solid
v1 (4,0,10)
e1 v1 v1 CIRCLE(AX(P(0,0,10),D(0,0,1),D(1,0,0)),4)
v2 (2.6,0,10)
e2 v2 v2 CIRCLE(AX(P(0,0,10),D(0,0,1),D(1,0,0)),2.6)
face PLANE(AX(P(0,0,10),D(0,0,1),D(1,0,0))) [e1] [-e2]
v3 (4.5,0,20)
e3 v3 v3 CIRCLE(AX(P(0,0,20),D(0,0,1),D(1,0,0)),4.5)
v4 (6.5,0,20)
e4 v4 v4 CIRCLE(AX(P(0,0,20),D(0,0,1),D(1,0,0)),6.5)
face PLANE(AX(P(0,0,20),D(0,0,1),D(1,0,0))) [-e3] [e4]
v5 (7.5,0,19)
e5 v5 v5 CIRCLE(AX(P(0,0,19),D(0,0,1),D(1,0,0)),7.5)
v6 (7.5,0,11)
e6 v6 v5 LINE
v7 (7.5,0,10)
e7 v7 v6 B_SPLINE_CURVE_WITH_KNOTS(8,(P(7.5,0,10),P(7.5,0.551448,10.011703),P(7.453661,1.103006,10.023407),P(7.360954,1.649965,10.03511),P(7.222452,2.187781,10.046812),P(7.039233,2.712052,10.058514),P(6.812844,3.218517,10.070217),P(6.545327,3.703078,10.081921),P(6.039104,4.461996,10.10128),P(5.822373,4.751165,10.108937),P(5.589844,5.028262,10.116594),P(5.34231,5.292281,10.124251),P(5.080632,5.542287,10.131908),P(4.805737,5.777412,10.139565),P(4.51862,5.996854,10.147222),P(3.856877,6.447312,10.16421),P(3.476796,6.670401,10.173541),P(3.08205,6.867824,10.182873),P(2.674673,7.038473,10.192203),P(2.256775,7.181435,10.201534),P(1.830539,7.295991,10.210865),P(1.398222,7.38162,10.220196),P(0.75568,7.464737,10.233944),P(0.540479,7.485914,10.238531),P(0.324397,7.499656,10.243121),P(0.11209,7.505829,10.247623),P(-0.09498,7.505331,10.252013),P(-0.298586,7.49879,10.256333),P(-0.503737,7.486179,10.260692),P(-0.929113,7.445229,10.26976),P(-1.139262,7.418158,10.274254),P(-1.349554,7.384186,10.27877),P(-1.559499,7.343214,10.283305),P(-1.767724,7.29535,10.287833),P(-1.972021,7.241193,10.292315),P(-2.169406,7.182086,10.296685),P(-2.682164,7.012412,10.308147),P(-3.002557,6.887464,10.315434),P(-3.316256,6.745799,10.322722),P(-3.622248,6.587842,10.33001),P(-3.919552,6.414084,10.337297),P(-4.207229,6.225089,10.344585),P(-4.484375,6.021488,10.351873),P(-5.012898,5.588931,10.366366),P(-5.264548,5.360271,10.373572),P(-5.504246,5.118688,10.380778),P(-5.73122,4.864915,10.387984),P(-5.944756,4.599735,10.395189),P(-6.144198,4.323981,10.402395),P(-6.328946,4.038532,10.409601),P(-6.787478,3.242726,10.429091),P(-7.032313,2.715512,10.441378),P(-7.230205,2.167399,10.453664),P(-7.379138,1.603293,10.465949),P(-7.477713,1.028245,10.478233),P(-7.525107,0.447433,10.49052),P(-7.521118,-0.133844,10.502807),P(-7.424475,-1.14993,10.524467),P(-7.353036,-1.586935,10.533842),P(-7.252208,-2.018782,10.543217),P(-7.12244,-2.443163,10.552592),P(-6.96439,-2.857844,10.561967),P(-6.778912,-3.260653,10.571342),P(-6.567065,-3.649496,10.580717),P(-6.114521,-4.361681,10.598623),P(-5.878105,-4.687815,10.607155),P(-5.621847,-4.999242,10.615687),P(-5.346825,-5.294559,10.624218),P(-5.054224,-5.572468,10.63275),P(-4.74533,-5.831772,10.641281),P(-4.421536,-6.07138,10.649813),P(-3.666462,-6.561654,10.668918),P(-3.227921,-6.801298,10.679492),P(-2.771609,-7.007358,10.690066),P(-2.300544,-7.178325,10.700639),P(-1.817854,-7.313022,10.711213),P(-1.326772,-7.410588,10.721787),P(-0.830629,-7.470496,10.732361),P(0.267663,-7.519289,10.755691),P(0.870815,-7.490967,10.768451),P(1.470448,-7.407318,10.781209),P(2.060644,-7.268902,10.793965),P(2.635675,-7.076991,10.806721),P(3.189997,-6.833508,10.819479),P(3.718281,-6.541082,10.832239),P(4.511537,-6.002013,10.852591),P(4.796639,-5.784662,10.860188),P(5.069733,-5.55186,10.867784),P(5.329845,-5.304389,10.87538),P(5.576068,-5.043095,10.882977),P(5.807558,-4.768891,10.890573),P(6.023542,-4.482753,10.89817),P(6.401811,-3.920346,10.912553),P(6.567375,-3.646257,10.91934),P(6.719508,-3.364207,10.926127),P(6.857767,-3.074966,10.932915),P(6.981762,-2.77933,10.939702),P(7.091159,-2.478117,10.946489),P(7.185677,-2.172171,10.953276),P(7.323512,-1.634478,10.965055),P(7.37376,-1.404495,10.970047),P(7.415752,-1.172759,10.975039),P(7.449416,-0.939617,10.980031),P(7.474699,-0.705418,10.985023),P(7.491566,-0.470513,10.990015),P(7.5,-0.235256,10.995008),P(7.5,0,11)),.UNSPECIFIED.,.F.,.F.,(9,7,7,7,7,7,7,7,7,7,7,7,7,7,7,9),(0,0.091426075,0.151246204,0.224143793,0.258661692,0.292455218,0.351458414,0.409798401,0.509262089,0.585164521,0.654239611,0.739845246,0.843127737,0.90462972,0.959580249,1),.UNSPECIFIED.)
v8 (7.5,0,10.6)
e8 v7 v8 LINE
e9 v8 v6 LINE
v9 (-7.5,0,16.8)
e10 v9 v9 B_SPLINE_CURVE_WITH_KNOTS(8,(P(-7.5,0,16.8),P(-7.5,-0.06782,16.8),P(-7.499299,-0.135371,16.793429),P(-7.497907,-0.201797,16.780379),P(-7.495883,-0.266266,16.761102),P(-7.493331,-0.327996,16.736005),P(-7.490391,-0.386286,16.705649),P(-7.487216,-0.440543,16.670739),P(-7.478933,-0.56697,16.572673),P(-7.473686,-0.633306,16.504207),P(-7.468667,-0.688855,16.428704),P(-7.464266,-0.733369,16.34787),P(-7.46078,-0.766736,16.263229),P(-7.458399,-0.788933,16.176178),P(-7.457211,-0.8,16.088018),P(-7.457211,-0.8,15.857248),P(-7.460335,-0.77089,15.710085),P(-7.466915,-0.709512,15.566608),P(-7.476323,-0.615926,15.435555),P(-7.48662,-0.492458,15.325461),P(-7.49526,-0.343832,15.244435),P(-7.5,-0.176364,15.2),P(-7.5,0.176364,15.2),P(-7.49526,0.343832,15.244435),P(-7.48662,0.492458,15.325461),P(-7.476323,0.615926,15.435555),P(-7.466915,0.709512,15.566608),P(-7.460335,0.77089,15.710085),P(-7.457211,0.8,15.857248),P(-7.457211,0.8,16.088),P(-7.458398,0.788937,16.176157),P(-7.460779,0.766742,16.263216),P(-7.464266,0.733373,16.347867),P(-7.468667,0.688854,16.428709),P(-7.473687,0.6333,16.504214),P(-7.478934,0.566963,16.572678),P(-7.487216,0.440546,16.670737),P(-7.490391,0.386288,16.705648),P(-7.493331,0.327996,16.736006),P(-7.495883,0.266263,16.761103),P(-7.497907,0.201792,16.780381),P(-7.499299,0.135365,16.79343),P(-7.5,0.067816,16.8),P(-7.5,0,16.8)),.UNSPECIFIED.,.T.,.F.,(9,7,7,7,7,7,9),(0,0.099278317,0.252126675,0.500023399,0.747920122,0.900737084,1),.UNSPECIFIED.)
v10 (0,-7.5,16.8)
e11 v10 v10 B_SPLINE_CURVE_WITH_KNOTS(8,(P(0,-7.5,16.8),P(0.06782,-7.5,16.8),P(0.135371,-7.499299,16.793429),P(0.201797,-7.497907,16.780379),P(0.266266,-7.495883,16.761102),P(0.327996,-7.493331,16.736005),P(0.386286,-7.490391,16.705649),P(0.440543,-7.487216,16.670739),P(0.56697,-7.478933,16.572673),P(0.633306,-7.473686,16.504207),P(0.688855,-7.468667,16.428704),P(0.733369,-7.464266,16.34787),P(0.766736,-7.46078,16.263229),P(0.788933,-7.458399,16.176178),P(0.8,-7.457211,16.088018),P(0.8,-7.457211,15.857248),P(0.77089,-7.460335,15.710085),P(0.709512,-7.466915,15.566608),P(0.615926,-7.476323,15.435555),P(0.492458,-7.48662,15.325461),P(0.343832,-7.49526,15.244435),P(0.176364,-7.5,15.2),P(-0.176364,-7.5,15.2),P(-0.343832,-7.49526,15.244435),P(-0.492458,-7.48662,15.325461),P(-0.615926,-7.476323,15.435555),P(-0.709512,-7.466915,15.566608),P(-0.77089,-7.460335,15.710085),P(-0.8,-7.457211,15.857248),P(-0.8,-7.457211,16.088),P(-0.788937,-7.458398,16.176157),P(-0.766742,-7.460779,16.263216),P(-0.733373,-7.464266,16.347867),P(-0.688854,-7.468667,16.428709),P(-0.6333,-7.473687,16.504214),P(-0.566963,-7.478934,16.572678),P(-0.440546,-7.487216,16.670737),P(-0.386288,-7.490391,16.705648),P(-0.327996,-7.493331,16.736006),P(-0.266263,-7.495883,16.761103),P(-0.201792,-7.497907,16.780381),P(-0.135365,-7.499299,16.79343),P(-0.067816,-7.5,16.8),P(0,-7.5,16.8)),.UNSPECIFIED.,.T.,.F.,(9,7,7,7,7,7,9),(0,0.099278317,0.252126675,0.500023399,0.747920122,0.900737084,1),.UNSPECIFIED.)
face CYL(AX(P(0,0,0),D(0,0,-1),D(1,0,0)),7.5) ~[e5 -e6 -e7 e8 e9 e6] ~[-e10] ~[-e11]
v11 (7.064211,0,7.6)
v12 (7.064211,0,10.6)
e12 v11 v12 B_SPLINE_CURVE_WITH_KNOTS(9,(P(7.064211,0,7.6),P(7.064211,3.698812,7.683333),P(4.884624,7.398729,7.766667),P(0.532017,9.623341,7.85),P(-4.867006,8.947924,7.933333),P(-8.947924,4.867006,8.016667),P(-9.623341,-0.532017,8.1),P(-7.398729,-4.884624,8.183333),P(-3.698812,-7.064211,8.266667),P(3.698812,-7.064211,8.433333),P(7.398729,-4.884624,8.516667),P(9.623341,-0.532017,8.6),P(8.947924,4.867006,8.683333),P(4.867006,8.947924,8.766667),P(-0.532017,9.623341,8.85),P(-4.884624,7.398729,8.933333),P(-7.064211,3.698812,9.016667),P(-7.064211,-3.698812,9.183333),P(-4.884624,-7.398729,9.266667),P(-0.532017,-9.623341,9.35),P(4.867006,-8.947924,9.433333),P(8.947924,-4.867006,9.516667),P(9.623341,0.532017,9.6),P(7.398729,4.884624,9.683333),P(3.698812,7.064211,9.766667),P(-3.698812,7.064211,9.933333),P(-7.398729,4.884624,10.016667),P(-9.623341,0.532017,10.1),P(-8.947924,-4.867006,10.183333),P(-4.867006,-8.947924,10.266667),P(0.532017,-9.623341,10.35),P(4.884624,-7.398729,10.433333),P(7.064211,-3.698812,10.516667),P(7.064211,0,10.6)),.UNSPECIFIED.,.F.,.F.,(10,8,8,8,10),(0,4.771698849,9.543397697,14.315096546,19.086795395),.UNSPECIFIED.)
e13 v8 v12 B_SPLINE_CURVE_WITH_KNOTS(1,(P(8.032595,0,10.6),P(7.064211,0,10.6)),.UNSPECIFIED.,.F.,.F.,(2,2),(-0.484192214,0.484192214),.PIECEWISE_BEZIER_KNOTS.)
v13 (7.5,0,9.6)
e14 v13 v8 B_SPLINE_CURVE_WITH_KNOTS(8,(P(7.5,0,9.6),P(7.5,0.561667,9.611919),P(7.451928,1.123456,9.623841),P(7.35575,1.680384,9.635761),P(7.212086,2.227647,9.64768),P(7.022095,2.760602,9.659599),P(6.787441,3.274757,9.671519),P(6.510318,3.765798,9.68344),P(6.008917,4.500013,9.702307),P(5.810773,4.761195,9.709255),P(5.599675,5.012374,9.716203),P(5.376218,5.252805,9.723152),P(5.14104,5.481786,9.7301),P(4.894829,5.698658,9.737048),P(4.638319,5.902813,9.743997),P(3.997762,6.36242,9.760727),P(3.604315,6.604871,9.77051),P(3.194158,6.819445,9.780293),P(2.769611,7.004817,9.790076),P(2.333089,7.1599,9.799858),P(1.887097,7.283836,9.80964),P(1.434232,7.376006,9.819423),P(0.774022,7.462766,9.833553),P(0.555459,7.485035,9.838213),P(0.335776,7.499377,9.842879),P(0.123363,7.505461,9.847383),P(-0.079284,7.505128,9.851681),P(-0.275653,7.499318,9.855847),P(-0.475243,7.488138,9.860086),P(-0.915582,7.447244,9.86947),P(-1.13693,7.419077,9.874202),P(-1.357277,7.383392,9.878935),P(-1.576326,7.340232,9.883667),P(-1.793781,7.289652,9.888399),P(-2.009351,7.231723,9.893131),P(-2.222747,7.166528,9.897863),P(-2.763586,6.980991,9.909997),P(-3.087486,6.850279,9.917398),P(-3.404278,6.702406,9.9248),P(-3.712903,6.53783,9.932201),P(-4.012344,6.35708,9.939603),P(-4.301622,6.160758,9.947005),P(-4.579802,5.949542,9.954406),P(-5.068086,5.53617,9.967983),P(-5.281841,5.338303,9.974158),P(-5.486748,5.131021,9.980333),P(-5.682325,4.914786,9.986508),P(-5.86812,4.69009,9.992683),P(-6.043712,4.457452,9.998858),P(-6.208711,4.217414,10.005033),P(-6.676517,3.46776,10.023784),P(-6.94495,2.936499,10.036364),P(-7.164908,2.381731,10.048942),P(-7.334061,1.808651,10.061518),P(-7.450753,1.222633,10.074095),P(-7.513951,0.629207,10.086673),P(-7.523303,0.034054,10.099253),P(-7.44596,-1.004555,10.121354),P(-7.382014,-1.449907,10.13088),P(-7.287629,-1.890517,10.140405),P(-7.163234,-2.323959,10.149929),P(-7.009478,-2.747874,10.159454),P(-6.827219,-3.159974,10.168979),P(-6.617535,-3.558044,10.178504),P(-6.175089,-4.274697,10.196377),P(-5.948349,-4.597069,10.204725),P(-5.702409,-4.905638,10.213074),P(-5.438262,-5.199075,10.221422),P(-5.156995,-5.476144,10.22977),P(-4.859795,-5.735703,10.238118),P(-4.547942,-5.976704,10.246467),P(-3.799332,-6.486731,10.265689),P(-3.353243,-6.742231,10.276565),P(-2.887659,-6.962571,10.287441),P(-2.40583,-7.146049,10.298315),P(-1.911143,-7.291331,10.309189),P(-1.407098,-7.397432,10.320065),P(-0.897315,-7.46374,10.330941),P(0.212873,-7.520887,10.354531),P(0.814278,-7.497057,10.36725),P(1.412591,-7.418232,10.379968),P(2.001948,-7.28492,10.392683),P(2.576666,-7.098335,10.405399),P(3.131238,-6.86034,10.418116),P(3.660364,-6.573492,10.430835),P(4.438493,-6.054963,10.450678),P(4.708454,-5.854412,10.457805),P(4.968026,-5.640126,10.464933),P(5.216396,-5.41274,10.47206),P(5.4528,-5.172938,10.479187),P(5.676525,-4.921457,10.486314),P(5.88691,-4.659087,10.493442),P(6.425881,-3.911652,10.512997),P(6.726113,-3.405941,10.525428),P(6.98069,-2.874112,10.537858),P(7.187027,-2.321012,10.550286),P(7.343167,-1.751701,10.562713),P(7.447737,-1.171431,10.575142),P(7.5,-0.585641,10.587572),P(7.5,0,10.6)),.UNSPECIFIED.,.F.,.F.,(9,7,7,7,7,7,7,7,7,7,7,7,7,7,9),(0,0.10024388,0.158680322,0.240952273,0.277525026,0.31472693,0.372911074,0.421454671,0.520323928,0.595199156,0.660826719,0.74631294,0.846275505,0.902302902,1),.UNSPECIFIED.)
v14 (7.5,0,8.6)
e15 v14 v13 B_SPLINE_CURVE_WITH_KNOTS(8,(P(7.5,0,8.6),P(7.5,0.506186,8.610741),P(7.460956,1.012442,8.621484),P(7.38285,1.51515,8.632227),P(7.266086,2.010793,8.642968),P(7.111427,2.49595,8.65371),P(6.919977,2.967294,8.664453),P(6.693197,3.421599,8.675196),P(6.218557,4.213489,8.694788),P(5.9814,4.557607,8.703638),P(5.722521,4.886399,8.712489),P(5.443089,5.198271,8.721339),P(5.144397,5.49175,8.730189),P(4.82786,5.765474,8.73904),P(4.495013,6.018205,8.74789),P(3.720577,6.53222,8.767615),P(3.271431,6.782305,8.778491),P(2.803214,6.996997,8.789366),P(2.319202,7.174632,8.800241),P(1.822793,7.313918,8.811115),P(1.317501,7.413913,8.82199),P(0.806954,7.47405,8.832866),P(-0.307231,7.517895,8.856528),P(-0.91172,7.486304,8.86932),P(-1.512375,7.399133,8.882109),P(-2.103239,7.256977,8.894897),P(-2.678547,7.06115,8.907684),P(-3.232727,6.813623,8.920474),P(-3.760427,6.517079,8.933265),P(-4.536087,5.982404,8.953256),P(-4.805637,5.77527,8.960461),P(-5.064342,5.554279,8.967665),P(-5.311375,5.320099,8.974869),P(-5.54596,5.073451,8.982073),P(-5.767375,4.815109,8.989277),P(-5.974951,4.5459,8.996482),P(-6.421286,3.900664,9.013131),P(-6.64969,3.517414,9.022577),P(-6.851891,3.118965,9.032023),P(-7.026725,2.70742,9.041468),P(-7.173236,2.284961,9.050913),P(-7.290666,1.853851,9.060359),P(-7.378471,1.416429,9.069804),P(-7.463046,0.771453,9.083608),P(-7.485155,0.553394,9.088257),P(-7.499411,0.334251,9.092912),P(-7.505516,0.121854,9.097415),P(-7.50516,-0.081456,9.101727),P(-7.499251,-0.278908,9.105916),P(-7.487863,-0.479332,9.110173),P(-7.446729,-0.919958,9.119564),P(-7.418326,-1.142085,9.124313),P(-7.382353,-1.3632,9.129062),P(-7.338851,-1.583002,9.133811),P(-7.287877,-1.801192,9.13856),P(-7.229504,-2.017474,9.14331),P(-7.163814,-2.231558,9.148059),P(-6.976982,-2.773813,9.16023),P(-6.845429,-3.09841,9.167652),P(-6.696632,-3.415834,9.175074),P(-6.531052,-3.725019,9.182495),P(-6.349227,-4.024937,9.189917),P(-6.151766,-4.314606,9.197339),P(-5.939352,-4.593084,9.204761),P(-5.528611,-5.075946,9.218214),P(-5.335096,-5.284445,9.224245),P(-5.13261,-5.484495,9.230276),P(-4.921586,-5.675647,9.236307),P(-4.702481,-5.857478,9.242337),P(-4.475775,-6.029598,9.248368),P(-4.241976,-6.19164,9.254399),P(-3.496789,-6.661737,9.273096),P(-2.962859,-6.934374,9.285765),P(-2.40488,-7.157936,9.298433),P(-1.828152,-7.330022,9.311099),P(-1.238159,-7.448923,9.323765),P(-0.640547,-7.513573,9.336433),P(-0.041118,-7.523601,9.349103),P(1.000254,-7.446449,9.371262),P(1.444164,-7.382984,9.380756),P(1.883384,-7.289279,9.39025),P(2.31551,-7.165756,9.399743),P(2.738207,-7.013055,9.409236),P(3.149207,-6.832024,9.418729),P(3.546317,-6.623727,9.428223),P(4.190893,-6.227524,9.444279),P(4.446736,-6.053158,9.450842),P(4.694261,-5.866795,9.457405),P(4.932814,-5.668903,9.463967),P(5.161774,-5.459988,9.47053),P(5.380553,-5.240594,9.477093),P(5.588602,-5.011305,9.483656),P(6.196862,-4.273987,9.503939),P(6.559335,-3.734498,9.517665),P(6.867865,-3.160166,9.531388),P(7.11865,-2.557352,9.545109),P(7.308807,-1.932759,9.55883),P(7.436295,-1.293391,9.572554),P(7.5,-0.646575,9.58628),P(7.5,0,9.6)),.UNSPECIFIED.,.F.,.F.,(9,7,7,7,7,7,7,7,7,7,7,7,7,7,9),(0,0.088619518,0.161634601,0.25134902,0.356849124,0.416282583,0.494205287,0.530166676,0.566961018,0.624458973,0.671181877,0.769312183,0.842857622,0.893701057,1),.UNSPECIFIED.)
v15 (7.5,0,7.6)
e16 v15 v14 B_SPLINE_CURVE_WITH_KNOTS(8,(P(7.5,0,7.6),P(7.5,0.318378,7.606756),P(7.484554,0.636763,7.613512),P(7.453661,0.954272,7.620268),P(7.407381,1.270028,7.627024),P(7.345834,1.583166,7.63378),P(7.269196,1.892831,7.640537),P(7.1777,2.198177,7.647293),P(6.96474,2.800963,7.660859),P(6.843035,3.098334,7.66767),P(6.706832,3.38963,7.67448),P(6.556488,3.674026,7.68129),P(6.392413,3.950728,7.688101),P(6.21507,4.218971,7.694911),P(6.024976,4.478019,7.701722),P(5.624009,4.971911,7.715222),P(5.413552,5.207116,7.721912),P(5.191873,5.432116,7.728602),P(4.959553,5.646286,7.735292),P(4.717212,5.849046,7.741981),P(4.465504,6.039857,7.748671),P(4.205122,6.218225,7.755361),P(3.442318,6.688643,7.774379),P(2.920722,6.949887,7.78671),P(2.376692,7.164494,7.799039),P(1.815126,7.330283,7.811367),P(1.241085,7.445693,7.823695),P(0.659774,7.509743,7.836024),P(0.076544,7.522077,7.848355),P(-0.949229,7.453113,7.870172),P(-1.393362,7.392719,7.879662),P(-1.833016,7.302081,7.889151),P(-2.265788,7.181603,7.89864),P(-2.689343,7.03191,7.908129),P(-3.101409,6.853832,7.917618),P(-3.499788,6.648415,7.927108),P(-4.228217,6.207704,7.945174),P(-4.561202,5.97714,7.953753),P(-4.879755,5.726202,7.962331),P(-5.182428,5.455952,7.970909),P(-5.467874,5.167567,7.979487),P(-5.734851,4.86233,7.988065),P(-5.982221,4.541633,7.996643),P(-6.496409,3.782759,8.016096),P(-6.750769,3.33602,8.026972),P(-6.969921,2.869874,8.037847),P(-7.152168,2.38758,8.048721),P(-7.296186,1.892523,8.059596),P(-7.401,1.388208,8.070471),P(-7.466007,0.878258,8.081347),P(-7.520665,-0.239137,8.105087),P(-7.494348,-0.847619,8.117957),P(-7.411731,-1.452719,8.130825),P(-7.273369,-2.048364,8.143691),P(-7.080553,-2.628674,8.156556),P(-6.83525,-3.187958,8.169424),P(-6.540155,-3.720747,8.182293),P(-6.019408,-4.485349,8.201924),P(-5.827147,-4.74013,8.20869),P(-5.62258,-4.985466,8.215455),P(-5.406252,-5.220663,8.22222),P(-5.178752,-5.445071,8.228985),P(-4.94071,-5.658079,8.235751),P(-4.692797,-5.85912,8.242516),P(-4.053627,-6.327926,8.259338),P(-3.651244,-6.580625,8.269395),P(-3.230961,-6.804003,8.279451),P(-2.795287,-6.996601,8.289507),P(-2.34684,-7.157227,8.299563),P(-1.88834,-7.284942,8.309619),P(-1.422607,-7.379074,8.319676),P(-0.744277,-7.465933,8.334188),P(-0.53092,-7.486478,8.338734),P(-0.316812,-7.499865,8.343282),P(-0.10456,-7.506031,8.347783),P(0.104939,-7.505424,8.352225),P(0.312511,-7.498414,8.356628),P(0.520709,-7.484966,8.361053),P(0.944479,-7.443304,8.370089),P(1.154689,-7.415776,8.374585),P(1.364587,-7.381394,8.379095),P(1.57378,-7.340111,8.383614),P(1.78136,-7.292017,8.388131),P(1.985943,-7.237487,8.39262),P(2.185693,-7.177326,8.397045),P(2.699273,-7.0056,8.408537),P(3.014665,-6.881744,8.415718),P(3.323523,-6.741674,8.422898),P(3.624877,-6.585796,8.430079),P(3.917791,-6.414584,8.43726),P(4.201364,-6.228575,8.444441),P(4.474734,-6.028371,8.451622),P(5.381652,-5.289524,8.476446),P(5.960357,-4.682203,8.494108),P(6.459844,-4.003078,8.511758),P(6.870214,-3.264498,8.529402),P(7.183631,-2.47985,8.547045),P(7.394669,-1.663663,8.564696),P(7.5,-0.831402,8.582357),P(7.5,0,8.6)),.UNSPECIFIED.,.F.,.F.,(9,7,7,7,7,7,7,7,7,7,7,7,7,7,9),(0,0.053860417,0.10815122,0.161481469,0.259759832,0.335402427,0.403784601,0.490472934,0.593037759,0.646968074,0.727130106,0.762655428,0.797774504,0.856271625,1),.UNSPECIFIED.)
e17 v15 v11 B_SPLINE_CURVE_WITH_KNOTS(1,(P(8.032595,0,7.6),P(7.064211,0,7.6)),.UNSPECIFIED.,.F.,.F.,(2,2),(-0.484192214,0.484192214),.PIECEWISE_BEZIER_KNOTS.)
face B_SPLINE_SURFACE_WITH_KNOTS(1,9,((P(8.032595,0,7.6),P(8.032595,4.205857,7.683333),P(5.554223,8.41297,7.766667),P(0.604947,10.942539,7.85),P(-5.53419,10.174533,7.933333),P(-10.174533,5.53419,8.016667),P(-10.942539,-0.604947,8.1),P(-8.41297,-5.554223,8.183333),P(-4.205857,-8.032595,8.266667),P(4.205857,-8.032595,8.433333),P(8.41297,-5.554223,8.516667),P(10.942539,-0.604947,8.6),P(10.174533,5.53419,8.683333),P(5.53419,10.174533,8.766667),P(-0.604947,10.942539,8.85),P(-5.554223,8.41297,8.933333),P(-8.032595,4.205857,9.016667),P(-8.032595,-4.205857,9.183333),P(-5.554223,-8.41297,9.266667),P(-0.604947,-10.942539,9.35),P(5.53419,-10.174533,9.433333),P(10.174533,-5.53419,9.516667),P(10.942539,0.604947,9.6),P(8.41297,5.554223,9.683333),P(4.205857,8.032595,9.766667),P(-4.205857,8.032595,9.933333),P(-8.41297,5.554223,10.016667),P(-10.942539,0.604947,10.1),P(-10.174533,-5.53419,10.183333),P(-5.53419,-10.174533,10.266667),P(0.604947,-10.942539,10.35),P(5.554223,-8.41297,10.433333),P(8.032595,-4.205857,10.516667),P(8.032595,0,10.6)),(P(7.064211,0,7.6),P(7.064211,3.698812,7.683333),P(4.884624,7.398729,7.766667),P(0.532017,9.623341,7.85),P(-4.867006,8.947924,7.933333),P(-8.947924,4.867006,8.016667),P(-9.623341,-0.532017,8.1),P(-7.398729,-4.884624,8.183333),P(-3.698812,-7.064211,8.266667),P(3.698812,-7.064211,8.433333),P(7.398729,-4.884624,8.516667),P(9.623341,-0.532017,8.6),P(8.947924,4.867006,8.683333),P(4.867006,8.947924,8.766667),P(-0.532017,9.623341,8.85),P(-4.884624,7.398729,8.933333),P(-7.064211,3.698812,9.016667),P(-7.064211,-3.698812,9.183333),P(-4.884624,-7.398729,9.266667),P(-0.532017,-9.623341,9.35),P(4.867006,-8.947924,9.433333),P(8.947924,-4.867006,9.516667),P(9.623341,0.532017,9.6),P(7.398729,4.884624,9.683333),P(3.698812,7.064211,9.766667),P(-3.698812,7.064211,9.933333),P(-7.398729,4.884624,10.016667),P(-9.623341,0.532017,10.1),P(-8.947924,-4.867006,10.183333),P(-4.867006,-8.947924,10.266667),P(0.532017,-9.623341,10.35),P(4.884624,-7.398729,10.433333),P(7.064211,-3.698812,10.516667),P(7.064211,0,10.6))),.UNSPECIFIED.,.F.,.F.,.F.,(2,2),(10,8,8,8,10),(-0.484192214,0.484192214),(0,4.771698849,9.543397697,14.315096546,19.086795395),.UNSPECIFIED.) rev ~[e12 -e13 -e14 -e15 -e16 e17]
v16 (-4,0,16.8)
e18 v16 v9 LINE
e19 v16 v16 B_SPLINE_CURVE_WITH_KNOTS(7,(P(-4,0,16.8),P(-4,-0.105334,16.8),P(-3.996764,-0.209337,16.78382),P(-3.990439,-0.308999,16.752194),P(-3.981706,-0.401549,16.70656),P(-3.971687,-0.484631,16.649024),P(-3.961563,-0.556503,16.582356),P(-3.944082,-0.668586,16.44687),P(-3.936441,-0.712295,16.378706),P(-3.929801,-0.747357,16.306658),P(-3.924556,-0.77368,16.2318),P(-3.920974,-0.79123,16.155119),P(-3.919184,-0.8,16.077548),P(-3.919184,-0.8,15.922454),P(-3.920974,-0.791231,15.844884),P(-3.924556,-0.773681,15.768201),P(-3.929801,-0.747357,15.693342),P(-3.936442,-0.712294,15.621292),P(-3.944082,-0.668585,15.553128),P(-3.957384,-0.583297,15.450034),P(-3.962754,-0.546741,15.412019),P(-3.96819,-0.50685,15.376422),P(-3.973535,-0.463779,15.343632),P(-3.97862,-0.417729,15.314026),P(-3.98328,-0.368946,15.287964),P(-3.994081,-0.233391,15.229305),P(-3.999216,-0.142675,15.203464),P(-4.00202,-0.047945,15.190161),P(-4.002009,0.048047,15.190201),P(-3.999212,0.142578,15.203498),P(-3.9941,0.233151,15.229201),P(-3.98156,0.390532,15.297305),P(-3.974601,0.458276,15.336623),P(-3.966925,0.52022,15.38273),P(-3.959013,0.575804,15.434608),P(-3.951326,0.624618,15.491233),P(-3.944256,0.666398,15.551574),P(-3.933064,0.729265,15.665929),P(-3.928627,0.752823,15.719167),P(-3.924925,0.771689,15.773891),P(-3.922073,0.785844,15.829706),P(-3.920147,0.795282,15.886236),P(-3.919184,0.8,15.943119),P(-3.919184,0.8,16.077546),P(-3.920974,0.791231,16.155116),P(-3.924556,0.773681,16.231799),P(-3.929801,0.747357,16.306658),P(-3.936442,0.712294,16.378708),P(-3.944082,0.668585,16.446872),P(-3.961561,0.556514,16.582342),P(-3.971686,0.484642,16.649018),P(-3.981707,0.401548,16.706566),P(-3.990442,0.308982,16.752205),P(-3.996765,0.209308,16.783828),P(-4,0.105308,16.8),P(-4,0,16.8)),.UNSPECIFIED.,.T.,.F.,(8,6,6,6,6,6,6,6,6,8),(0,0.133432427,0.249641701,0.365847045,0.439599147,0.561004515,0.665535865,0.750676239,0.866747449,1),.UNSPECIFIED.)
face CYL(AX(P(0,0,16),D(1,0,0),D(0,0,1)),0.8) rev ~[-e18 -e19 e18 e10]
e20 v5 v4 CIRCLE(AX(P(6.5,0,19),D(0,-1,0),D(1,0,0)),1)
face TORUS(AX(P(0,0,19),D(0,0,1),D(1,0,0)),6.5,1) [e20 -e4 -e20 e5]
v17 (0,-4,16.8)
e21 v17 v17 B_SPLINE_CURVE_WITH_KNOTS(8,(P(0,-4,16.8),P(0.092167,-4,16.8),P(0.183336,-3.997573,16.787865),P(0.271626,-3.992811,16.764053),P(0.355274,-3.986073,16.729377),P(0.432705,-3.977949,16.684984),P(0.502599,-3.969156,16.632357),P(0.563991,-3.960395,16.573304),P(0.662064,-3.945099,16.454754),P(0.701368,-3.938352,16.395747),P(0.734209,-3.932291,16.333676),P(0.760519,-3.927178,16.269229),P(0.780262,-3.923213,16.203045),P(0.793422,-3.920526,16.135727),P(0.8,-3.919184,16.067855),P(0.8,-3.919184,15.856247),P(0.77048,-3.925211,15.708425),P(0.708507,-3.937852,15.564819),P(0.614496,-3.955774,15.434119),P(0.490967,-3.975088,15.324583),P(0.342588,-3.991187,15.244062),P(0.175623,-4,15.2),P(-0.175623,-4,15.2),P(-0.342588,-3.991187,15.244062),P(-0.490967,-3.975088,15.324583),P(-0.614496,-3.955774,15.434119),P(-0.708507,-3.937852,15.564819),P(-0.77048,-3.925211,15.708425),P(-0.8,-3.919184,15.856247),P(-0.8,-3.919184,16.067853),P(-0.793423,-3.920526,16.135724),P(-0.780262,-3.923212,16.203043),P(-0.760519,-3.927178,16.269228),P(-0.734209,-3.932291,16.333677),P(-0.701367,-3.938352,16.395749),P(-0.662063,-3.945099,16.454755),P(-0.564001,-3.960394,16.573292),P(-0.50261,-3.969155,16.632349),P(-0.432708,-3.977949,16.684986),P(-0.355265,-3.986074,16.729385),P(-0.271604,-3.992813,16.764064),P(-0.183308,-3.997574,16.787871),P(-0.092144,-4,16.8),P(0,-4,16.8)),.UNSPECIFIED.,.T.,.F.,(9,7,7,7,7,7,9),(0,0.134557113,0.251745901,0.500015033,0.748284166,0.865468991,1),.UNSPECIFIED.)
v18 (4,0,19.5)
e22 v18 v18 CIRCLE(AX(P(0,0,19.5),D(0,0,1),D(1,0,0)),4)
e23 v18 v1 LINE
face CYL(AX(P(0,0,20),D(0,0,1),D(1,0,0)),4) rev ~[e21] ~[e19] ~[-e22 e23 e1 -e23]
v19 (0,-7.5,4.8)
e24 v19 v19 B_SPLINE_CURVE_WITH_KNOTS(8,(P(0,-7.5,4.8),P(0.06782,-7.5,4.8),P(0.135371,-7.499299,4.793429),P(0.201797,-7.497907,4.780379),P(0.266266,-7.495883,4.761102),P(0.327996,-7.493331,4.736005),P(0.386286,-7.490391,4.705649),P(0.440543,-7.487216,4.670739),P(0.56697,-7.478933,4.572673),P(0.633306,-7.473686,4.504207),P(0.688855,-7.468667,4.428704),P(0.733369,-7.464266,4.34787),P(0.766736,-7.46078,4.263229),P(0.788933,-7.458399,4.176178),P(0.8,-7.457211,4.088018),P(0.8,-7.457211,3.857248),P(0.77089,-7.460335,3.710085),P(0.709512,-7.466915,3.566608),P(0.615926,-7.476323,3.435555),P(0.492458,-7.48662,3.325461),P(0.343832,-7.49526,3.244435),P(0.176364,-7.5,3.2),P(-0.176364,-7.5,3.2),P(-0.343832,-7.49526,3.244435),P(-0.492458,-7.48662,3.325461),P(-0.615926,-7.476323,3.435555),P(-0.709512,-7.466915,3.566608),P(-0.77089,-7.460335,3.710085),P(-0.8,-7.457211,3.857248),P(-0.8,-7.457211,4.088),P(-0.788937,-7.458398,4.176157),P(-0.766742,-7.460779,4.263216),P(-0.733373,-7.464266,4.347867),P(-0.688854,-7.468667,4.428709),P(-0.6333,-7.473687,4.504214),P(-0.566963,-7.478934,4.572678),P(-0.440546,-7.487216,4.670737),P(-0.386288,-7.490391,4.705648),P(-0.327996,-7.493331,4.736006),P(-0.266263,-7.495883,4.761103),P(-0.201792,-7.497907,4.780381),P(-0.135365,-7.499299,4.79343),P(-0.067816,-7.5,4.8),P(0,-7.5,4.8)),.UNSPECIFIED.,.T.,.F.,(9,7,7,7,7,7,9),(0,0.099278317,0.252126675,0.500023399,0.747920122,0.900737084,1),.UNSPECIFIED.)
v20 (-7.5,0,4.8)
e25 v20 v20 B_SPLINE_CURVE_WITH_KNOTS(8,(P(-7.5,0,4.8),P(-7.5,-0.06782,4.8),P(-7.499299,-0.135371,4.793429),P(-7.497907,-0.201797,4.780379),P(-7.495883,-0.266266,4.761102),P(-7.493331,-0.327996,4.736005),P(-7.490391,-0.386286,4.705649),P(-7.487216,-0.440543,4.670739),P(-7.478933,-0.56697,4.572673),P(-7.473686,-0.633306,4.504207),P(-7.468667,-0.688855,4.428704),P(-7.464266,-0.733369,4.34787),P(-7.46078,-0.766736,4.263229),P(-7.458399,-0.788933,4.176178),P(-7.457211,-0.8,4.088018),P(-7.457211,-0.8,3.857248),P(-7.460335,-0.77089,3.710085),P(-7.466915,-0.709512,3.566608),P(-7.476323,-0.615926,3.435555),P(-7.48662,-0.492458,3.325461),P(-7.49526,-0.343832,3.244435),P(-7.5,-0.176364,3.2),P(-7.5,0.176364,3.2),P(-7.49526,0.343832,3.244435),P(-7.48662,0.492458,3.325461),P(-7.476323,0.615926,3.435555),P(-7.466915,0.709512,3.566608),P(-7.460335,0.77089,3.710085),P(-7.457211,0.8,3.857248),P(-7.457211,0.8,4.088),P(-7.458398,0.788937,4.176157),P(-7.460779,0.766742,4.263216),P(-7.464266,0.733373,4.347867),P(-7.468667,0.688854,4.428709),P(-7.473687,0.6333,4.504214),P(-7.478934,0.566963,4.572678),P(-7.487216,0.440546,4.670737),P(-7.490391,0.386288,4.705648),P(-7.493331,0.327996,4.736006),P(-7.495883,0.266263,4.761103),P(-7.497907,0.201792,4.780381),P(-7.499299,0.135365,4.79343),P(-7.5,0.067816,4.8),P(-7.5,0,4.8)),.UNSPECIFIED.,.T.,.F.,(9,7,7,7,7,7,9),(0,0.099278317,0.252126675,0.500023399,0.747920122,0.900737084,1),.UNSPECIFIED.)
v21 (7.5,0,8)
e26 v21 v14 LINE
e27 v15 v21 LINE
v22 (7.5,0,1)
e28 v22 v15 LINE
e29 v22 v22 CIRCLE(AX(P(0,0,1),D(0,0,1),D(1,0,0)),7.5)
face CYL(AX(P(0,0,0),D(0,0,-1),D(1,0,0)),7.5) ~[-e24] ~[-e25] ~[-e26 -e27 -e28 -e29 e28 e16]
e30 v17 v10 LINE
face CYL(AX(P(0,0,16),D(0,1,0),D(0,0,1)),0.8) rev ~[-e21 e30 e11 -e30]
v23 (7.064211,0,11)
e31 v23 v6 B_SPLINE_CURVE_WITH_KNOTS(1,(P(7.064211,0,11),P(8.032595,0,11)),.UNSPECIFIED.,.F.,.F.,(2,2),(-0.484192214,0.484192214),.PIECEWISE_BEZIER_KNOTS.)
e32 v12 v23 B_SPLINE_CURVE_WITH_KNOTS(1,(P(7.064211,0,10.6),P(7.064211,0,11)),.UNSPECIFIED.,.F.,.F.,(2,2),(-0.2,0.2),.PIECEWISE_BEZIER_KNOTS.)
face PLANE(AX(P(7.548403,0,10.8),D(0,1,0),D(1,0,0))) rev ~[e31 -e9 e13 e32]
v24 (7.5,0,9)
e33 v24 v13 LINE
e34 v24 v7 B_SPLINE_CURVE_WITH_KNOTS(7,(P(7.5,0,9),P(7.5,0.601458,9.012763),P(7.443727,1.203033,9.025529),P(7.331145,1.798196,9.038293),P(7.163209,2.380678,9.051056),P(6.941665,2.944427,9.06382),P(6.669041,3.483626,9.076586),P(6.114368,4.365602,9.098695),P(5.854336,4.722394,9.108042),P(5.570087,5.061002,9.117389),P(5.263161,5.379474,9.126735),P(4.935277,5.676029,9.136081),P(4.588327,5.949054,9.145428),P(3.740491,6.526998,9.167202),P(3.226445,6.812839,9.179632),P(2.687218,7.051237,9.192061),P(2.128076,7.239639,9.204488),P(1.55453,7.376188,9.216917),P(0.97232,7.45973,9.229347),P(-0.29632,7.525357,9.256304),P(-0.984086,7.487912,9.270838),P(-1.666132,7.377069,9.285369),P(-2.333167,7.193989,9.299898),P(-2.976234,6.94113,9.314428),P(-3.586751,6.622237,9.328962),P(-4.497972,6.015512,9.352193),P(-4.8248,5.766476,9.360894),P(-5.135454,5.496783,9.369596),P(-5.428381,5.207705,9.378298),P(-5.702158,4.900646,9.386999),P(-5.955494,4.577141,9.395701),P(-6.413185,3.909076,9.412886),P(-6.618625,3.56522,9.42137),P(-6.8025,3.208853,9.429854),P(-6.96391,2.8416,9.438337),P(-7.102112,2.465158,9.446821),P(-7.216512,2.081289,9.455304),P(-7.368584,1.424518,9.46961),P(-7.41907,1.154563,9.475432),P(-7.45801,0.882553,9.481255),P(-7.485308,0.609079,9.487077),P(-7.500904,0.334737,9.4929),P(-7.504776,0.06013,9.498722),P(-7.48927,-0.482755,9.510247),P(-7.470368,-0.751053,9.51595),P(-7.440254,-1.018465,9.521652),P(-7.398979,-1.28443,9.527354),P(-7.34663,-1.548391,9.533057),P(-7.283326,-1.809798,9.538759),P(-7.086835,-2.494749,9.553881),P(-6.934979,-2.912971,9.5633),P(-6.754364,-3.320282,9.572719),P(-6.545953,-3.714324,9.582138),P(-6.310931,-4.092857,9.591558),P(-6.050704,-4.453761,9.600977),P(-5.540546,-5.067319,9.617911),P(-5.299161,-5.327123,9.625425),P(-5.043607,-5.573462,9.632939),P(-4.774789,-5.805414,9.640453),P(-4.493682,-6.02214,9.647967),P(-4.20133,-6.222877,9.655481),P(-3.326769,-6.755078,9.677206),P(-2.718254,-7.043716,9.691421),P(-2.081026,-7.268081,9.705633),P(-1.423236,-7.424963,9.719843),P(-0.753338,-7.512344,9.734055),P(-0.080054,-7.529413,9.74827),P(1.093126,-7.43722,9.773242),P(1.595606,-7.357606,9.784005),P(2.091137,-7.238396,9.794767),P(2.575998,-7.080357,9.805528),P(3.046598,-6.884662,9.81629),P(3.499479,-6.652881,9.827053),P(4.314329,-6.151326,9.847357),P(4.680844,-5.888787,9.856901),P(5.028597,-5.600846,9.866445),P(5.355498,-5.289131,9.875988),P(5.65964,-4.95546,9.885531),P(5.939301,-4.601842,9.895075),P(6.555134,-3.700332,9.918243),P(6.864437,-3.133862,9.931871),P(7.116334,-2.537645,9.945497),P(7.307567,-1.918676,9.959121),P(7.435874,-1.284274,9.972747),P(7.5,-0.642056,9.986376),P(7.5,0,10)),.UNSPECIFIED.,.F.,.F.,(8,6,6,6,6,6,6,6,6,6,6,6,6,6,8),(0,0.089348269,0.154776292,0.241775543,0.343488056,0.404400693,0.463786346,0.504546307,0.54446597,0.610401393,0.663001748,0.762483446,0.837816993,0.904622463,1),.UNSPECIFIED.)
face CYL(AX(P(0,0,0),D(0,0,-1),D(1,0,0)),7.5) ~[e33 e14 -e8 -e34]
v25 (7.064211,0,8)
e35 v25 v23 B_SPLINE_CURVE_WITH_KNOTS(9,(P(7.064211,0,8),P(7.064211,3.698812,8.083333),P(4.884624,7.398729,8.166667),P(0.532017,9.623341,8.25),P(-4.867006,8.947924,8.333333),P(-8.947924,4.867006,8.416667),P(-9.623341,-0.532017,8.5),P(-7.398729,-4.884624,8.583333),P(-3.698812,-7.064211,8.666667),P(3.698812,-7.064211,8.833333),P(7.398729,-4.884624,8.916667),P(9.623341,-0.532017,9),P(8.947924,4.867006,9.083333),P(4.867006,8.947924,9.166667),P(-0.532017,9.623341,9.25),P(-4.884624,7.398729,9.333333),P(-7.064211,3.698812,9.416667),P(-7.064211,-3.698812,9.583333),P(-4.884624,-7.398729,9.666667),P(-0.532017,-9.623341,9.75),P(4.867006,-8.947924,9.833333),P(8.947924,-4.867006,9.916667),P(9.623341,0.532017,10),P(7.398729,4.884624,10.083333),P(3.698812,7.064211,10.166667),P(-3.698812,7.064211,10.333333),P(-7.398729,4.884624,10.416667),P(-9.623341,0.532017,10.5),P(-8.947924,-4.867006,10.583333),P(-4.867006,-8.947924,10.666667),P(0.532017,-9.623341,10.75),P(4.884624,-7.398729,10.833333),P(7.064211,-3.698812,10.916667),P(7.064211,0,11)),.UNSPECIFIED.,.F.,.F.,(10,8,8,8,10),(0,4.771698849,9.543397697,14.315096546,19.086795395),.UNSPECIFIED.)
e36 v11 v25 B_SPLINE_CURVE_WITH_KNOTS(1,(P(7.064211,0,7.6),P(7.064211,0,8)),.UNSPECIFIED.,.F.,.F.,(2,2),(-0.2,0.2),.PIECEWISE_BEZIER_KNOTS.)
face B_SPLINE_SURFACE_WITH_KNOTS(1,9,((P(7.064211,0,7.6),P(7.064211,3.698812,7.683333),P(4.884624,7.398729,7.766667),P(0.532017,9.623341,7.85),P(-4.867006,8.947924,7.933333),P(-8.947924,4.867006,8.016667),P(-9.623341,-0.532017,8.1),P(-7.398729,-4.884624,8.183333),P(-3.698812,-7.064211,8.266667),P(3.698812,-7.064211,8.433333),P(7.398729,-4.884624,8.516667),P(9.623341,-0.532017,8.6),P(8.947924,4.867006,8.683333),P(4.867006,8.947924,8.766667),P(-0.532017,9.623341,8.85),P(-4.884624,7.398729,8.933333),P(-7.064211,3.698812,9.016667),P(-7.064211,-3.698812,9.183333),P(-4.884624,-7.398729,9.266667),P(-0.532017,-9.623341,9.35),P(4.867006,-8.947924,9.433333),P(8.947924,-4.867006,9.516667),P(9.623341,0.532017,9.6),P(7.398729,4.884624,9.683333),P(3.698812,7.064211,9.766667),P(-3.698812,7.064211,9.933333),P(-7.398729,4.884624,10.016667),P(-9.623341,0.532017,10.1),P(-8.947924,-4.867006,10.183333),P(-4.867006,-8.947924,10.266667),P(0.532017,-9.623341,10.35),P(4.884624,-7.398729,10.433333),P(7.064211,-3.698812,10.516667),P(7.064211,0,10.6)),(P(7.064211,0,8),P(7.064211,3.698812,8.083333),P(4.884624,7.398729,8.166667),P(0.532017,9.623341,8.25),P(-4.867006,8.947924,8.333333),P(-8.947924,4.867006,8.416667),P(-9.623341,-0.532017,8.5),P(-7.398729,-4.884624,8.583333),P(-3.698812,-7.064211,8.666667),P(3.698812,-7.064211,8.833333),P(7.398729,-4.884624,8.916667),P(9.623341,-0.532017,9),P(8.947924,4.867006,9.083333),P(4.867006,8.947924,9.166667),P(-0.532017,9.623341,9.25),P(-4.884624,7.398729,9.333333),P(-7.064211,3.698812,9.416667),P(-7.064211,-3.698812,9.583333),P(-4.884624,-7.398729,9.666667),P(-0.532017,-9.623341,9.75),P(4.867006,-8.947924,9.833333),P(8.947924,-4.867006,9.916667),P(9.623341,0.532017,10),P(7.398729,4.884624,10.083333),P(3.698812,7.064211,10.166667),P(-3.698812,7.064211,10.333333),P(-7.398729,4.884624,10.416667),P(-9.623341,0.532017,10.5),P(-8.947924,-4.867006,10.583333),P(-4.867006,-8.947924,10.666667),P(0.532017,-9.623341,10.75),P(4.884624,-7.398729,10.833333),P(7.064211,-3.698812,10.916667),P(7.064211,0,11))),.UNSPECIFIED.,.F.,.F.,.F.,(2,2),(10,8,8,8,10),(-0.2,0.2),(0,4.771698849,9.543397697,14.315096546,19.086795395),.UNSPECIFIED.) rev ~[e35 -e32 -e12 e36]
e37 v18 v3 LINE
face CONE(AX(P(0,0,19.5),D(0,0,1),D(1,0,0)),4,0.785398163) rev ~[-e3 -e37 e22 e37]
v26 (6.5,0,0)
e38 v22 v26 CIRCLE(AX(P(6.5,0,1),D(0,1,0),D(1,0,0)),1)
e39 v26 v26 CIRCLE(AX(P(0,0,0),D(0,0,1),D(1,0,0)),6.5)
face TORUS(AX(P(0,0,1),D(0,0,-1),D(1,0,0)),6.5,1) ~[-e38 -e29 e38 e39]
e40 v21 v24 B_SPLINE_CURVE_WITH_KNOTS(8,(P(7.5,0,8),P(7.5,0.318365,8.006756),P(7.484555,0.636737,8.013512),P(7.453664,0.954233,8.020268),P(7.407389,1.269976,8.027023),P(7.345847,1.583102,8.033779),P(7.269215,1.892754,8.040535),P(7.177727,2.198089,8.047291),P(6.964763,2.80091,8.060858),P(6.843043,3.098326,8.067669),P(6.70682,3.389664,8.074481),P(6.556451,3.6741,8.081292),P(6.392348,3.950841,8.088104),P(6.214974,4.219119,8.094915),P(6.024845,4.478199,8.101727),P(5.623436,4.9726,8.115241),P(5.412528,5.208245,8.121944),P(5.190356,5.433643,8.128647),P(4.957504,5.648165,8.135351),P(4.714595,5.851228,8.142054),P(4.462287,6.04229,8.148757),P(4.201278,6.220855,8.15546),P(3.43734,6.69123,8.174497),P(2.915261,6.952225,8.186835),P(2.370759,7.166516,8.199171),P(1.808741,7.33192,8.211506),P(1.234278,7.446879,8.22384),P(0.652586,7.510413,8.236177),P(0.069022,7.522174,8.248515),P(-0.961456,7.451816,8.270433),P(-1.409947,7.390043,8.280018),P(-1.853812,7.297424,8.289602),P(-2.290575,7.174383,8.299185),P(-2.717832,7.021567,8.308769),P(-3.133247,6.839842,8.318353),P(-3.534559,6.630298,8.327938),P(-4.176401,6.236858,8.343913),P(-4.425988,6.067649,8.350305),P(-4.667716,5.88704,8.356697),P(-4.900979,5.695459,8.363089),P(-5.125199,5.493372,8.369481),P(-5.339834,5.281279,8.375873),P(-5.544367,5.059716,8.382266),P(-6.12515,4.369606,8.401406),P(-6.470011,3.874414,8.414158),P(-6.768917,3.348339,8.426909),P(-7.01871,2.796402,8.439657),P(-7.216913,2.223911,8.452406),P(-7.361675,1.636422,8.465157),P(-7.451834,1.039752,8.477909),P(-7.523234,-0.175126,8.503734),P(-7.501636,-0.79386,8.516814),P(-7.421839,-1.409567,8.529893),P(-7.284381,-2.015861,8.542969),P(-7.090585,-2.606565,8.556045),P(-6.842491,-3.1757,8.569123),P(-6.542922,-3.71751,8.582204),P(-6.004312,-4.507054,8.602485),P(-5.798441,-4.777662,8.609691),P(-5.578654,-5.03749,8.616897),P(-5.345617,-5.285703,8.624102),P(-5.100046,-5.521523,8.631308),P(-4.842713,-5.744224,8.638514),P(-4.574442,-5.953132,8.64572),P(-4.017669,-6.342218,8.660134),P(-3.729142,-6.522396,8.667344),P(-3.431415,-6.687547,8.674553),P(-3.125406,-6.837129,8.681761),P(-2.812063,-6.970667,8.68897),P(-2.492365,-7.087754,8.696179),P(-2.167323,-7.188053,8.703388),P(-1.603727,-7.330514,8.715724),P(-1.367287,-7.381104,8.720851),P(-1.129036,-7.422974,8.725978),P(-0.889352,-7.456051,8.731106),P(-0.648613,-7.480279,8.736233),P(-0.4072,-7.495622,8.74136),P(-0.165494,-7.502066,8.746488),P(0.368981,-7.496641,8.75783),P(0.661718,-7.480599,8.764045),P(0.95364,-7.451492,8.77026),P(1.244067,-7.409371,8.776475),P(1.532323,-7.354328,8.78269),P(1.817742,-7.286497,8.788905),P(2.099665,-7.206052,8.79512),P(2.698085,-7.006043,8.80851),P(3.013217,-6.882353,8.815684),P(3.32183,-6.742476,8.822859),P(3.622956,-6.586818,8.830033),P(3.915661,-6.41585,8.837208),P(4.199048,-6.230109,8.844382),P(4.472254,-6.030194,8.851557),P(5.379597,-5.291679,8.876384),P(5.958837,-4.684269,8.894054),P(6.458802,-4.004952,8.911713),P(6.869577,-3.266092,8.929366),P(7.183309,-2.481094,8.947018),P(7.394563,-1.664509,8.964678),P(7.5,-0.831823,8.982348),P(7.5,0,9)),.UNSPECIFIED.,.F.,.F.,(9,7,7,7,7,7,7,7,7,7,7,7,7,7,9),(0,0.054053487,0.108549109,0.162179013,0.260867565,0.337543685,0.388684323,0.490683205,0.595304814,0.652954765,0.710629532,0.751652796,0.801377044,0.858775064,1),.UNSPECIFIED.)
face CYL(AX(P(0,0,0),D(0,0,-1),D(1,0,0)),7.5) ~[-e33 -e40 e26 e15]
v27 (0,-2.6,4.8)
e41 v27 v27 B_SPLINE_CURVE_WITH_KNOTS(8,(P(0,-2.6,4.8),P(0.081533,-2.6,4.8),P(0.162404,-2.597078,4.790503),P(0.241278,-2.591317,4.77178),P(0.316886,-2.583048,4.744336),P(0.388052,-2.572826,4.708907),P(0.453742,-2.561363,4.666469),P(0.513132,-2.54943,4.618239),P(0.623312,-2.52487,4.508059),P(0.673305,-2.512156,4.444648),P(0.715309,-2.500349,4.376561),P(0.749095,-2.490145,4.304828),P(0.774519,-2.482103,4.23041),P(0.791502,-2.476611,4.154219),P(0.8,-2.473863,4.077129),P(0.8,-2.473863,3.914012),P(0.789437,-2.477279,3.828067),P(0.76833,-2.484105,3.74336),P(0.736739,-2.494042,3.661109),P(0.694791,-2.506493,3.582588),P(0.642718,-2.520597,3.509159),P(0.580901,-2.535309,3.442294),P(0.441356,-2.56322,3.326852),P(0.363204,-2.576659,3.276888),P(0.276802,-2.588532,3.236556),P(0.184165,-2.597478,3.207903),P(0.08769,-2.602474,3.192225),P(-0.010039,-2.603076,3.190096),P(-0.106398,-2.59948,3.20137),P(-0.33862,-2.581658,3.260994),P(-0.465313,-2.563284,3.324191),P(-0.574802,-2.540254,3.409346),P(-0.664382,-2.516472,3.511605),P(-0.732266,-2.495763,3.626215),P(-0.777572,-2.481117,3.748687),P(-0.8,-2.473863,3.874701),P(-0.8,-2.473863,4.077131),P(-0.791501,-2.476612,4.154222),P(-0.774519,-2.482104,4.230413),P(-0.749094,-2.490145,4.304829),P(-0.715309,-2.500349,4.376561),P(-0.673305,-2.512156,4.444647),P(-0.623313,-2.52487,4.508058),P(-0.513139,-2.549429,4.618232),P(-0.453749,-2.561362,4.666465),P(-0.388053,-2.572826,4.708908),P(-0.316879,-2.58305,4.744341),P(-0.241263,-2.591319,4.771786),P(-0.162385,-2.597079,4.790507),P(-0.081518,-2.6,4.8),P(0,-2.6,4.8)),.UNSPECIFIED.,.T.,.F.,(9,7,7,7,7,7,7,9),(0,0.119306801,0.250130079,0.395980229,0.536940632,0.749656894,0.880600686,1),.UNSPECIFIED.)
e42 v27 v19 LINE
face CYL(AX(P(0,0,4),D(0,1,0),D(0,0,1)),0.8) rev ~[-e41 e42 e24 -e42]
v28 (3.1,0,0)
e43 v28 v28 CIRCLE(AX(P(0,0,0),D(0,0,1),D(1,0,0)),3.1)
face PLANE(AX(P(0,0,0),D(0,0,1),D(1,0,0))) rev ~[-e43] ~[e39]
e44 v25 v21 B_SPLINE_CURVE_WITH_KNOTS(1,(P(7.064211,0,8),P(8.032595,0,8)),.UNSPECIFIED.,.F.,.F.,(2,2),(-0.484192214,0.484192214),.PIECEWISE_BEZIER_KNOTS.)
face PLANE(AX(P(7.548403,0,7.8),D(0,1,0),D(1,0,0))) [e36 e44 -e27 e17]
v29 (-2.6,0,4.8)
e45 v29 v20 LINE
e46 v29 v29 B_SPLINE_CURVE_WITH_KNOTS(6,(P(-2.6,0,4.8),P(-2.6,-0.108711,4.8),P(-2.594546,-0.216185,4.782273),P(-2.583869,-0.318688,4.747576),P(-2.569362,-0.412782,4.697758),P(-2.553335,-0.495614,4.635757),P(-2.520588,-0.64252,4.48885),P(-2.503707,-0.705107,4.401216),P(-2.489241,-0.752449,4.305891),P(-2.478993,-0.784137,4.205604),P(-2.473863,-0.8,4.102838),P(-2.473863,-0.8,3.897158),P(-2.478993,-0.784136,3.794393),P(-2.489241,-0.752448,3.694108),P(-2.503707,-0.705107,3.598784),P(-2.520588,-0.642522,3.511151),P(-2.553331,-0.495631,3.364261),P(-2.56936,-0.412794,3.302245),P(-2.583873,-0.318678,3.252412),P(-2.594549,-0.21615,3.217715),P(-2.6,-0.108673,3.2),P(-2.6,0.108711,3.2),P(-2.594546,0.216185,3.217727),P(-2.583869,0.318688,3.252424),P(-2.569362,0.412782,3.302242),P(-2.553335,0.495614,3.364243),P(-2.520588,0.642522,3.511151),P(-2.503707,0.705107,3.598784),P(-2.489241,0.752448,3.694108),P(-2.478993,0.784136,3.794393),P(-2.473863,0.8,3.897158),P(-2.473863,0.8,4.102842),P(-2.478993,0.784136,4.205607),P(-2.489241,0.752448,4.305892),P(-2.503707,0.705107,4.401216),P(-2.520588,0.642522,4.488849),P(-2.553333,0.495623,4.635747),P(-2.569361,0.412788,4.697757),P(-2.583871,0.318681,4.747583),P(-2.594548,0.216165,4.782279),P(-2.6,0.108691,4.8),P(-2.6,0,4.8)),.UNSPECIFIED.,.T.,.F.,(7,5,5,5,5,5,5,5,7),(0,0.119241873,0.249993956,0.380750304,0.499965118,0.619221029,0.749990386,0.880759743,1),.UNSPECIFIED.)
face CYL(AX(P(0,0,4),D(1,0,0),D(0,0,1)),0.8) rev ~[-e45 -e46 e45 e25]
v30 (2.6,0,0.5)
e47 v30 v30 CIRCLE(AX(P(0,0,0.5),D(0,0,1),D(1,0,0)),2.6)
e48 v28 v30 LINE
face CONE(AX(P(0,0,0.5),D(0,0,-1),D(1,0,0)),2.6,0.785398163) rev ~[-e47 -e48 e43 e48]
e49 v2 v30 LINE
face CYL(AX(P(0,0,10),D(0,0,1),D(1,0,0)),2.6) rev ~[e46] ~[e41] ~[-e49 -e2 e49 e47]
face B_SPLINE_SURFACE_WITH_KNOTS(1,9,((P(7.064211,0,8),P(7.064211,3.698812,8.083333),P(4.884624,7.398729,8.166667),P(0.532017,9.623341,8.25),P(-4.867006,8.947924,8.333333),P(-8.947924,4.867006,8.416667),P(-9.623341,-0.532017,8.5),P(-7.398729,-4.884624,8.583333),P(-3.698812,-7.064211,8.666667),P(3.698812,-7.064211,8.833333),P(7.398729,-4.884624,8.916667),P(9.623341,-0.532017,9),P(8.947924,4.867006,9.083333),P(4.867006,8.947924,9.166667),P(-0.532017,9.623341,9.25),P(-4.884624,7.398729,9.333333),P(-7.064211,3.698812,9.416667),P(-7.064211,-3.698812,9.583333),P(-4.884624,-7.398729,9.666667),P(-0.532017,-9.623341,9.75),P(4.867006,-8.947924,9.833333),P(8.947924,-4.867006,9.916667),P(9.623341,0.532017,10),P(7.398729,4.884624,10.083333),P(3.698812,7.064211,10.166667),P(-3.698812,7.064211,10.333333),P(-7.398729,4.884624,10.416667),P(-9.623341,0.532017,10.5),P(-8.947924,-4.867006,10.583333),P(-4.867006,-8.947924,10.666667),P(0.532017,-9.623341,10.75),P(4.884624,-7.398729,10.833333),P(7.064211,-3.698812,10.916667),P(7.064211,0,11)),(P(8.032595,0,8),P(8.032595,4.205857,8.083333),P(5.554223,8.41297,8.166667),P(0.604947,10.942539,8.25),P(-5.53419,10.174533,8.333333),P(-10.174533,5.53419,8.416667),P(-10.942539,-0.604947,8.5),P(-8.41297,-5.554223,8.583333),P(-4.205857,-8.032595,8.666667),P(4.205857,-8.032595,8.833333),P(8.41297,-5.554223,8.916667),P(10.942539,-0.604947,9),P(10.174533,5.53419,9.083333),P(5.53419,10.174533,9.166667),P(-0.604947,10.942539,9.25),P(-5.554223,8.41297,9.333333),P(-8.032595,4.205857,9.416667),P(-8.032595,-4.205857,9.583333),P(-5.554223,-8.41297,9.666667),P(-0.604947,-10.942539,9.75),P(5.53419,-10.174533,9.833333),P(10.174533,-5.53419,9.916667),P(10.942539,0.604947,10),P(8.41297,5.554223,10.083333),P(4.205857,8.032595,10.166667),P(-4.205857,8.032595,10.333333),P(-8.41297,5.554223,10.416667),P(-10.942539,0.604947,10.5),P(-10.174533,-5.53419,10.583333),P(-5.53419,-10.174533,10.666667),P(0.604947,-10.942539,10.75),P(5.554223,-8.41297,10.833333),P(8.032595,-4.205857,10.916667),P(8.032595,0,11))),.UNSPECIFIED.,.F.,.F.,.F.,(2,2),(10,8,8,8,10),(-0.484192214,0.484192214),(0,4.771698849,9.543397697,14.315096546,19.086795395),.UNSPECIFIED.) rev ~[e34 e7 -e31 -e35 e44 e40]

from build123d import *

# Parameters (mm, degrees)
SCHIZZO1_R                    = 7.5
ESTRUSIONE_ESTRUSIONE1_DEPTH  = 20
SCHIZZO2_R                    = 4
TAGLIO_ESTRUSIONE1_DEPTH      = 10
TAGLIO_ESTRUSIONE2_REACH      = 16.577
SCHIZZO3_R                    = 2.6
RACCORDO1_R                   = 1
TAGLIO_ESTRUSIONE3_REACH      = 24.638
TAGLIO_ESTRUSIONE3_END_RADIUS = 7.5
SCHIZZO4_R                    = 0.8
RIPETIZIONECIRCOLARE1_COUNT   = 2
RIPETIZIONECIRCOLARE1_ANGLE   = 90
TAGLIA_SWEEP1_PITCH           = 1
TAGLIA_SWEEP1_HEIGHT          = 3
TAGLIA_SWEEP1_RADIUS          = 7.5
SCHIZZO6_W                    = 0.968384427
SCHIZZO6_H                    = 0.4
SMUSSO1_SIZE                  = 0.5


with BuildPart() as part:
    # Schizzo1 → Estrusione-Estrusione1 (new body)
    with BuildSketch(Plane.XY):
        Circle(SCHIZZO1_R)
    extrude(amount=ESTRUSIONE_ESTRUSIONE1_DEPTH)

    # Schizzo2 → Taglio-Estrusione1 (cut)
    with BuildSketch(Plane.XY.offset(20)):
        Circle(SCHIZZO2_R)
    extrude(amount=-TAGLIO_ESTRUSIONE1_DEPTH, mode=Mode.SUBTRACT)

    # Schizzo3 → Taglio-Estrusione2 (cut, up to next)
    with BuildSketch(Plane.XY.offset(10), mode=Mode.PRIVATE) as taglio_estrusione2_sk1:
        Circle(SCHIZZO3_R)
    taglio_estrusione2_tool1 = extrude(taglio_estrusione2_sk1.sketch, amount=-TAGLIO_ESTRUSIONE2_REACH, mode=Mode.PRIVATE) & part.part
    add(taglio_estrusione2_tool1.solids().sort_by_distance((0, 0, 10))[0], mode=Mode.SUBTRACT)

    # Raccordo1
    raccordo1_edges = [part.edges().sort_by_distance(p)[0] for p in [
        (-7.5, 0, 0),
        (-7.5, 0, 20),
    ]]
    fillet(raccordo1_edges, radius=RACCORDO1_R)

    # Taglio-Estrusione3: up to this cylinder (the profile starts inside it)
    taglio_estrusione3_end = Plane(origin=(0, 0, 10), z_dir=(0, 0, -1)) * Cylinder(TAGLIO_ESTRUSIONE3_END_RADIUS, 77.276, mode=Mode.PRIVATE)
    # Schizzo4 → Taglio-Estrusione3 (cut, up to the surface)
    with BuildSketch(Plane(origin=(0, 0, 0), x_dir=(1, 0, 0), z_dir=(0, 1, 0)), mode=Mode.PRIVATE) as taglio_estrusione3_sk1:
        with Locations(Location((0, -4, 0), (0, 0, 270))):
            Circle(SCHIZZO4_R)
    taglio_estrusione3_tool1 = extrude(taglio_estrusione3_sk1.sketch, amount=-TAGLIO_ESTRUSIONE3_REACH, mode=Mode.PRIVATE) & taglio_estrusione3_end
    # Schizzo4 → Taglio-Estrusione3 (cut, up to the surface)
    with BuildSketch(Plane(origin=(0, 0, 0), x_dir=(1, 0, 0), z_dir=(0, 1, 0)), mode=Mode.PRIVATE) as taglio_estrusione3_sk2:
        with Locations(Location((0, -16, 0), (0, 0, 270))):
            Circle(SCHIZZO4_R)
    taglio_estrusione3_tool2 = extrude(taglio_estrusione3_sk2.sketch, amount=-TAGLIO_ESTRUSIONE3_REACH, mode=Mode.PRIVATE) & taglio_estrusione3_end
    taglio_estrusione3 = taglio_estrusione3_tool1.solids().sort_by_distance((0, 0, 4))[0] + taglio_estrusione3_tool2.solids().sort_by_distance((0, 0, 16))[0]
    add(taglio_estrusione3, mode=Mode.SUBTRACT)

    # RipetizioneCircolare1: Taglio-Estrusione3 ×2 about axis
    ripetizionecircolare1_axis = Axis((0, 0, 19), (0, 0, -1))
    for i in range(1, RIPETIZIONECIRCOLARE1_COUNT):
        add(taglio_estrusione3.rotate(ripetizionecircolare1_axis, i * RIPETIZIONECIRCOLARE1_ANGLE / (RIPETIZIONECIRCOLARE1_COUNT - 1)), mode=Mode.SUBTRACT)

    # Taglia-Sweep1: sweep along a helix
    with BuildLine() as taglia_sweep1_path:
        Helix(TAGLIA_SWEEP1_PITCH, TAGLIA_SWEEP1_HEIGHT, TAGLIA_SWEEP1_RADIUS, center=(0, 0, 8), direction=(0, 0, 1))
    # Schizzo6 → Taglia-Sweep1 (sweep, cut)
    with BuildSketch(Plane(origin=(0, 0, 0), x_dir=(1, 0, 0), z_dir=(0, 1, 0))):
        with Locations((7.548402887, -7.8)):
            Rectangle(SCHIZZO6_W, SCHIZZO6_H)
    sweep(path=taglia_sweep1_path.line, is_frenet=True, mode=Mode.SUBTRACT)

    # Smusso1
    smusso1_edges = [part.edges().sort_by_distance(p)[0] for p in [
        (-2.6, 0, 0),
        (-4, 0, 20),
    ]]
    chamfer(smusso1_edges, length=SMUSSO1_SIZE)


solid = part.part
